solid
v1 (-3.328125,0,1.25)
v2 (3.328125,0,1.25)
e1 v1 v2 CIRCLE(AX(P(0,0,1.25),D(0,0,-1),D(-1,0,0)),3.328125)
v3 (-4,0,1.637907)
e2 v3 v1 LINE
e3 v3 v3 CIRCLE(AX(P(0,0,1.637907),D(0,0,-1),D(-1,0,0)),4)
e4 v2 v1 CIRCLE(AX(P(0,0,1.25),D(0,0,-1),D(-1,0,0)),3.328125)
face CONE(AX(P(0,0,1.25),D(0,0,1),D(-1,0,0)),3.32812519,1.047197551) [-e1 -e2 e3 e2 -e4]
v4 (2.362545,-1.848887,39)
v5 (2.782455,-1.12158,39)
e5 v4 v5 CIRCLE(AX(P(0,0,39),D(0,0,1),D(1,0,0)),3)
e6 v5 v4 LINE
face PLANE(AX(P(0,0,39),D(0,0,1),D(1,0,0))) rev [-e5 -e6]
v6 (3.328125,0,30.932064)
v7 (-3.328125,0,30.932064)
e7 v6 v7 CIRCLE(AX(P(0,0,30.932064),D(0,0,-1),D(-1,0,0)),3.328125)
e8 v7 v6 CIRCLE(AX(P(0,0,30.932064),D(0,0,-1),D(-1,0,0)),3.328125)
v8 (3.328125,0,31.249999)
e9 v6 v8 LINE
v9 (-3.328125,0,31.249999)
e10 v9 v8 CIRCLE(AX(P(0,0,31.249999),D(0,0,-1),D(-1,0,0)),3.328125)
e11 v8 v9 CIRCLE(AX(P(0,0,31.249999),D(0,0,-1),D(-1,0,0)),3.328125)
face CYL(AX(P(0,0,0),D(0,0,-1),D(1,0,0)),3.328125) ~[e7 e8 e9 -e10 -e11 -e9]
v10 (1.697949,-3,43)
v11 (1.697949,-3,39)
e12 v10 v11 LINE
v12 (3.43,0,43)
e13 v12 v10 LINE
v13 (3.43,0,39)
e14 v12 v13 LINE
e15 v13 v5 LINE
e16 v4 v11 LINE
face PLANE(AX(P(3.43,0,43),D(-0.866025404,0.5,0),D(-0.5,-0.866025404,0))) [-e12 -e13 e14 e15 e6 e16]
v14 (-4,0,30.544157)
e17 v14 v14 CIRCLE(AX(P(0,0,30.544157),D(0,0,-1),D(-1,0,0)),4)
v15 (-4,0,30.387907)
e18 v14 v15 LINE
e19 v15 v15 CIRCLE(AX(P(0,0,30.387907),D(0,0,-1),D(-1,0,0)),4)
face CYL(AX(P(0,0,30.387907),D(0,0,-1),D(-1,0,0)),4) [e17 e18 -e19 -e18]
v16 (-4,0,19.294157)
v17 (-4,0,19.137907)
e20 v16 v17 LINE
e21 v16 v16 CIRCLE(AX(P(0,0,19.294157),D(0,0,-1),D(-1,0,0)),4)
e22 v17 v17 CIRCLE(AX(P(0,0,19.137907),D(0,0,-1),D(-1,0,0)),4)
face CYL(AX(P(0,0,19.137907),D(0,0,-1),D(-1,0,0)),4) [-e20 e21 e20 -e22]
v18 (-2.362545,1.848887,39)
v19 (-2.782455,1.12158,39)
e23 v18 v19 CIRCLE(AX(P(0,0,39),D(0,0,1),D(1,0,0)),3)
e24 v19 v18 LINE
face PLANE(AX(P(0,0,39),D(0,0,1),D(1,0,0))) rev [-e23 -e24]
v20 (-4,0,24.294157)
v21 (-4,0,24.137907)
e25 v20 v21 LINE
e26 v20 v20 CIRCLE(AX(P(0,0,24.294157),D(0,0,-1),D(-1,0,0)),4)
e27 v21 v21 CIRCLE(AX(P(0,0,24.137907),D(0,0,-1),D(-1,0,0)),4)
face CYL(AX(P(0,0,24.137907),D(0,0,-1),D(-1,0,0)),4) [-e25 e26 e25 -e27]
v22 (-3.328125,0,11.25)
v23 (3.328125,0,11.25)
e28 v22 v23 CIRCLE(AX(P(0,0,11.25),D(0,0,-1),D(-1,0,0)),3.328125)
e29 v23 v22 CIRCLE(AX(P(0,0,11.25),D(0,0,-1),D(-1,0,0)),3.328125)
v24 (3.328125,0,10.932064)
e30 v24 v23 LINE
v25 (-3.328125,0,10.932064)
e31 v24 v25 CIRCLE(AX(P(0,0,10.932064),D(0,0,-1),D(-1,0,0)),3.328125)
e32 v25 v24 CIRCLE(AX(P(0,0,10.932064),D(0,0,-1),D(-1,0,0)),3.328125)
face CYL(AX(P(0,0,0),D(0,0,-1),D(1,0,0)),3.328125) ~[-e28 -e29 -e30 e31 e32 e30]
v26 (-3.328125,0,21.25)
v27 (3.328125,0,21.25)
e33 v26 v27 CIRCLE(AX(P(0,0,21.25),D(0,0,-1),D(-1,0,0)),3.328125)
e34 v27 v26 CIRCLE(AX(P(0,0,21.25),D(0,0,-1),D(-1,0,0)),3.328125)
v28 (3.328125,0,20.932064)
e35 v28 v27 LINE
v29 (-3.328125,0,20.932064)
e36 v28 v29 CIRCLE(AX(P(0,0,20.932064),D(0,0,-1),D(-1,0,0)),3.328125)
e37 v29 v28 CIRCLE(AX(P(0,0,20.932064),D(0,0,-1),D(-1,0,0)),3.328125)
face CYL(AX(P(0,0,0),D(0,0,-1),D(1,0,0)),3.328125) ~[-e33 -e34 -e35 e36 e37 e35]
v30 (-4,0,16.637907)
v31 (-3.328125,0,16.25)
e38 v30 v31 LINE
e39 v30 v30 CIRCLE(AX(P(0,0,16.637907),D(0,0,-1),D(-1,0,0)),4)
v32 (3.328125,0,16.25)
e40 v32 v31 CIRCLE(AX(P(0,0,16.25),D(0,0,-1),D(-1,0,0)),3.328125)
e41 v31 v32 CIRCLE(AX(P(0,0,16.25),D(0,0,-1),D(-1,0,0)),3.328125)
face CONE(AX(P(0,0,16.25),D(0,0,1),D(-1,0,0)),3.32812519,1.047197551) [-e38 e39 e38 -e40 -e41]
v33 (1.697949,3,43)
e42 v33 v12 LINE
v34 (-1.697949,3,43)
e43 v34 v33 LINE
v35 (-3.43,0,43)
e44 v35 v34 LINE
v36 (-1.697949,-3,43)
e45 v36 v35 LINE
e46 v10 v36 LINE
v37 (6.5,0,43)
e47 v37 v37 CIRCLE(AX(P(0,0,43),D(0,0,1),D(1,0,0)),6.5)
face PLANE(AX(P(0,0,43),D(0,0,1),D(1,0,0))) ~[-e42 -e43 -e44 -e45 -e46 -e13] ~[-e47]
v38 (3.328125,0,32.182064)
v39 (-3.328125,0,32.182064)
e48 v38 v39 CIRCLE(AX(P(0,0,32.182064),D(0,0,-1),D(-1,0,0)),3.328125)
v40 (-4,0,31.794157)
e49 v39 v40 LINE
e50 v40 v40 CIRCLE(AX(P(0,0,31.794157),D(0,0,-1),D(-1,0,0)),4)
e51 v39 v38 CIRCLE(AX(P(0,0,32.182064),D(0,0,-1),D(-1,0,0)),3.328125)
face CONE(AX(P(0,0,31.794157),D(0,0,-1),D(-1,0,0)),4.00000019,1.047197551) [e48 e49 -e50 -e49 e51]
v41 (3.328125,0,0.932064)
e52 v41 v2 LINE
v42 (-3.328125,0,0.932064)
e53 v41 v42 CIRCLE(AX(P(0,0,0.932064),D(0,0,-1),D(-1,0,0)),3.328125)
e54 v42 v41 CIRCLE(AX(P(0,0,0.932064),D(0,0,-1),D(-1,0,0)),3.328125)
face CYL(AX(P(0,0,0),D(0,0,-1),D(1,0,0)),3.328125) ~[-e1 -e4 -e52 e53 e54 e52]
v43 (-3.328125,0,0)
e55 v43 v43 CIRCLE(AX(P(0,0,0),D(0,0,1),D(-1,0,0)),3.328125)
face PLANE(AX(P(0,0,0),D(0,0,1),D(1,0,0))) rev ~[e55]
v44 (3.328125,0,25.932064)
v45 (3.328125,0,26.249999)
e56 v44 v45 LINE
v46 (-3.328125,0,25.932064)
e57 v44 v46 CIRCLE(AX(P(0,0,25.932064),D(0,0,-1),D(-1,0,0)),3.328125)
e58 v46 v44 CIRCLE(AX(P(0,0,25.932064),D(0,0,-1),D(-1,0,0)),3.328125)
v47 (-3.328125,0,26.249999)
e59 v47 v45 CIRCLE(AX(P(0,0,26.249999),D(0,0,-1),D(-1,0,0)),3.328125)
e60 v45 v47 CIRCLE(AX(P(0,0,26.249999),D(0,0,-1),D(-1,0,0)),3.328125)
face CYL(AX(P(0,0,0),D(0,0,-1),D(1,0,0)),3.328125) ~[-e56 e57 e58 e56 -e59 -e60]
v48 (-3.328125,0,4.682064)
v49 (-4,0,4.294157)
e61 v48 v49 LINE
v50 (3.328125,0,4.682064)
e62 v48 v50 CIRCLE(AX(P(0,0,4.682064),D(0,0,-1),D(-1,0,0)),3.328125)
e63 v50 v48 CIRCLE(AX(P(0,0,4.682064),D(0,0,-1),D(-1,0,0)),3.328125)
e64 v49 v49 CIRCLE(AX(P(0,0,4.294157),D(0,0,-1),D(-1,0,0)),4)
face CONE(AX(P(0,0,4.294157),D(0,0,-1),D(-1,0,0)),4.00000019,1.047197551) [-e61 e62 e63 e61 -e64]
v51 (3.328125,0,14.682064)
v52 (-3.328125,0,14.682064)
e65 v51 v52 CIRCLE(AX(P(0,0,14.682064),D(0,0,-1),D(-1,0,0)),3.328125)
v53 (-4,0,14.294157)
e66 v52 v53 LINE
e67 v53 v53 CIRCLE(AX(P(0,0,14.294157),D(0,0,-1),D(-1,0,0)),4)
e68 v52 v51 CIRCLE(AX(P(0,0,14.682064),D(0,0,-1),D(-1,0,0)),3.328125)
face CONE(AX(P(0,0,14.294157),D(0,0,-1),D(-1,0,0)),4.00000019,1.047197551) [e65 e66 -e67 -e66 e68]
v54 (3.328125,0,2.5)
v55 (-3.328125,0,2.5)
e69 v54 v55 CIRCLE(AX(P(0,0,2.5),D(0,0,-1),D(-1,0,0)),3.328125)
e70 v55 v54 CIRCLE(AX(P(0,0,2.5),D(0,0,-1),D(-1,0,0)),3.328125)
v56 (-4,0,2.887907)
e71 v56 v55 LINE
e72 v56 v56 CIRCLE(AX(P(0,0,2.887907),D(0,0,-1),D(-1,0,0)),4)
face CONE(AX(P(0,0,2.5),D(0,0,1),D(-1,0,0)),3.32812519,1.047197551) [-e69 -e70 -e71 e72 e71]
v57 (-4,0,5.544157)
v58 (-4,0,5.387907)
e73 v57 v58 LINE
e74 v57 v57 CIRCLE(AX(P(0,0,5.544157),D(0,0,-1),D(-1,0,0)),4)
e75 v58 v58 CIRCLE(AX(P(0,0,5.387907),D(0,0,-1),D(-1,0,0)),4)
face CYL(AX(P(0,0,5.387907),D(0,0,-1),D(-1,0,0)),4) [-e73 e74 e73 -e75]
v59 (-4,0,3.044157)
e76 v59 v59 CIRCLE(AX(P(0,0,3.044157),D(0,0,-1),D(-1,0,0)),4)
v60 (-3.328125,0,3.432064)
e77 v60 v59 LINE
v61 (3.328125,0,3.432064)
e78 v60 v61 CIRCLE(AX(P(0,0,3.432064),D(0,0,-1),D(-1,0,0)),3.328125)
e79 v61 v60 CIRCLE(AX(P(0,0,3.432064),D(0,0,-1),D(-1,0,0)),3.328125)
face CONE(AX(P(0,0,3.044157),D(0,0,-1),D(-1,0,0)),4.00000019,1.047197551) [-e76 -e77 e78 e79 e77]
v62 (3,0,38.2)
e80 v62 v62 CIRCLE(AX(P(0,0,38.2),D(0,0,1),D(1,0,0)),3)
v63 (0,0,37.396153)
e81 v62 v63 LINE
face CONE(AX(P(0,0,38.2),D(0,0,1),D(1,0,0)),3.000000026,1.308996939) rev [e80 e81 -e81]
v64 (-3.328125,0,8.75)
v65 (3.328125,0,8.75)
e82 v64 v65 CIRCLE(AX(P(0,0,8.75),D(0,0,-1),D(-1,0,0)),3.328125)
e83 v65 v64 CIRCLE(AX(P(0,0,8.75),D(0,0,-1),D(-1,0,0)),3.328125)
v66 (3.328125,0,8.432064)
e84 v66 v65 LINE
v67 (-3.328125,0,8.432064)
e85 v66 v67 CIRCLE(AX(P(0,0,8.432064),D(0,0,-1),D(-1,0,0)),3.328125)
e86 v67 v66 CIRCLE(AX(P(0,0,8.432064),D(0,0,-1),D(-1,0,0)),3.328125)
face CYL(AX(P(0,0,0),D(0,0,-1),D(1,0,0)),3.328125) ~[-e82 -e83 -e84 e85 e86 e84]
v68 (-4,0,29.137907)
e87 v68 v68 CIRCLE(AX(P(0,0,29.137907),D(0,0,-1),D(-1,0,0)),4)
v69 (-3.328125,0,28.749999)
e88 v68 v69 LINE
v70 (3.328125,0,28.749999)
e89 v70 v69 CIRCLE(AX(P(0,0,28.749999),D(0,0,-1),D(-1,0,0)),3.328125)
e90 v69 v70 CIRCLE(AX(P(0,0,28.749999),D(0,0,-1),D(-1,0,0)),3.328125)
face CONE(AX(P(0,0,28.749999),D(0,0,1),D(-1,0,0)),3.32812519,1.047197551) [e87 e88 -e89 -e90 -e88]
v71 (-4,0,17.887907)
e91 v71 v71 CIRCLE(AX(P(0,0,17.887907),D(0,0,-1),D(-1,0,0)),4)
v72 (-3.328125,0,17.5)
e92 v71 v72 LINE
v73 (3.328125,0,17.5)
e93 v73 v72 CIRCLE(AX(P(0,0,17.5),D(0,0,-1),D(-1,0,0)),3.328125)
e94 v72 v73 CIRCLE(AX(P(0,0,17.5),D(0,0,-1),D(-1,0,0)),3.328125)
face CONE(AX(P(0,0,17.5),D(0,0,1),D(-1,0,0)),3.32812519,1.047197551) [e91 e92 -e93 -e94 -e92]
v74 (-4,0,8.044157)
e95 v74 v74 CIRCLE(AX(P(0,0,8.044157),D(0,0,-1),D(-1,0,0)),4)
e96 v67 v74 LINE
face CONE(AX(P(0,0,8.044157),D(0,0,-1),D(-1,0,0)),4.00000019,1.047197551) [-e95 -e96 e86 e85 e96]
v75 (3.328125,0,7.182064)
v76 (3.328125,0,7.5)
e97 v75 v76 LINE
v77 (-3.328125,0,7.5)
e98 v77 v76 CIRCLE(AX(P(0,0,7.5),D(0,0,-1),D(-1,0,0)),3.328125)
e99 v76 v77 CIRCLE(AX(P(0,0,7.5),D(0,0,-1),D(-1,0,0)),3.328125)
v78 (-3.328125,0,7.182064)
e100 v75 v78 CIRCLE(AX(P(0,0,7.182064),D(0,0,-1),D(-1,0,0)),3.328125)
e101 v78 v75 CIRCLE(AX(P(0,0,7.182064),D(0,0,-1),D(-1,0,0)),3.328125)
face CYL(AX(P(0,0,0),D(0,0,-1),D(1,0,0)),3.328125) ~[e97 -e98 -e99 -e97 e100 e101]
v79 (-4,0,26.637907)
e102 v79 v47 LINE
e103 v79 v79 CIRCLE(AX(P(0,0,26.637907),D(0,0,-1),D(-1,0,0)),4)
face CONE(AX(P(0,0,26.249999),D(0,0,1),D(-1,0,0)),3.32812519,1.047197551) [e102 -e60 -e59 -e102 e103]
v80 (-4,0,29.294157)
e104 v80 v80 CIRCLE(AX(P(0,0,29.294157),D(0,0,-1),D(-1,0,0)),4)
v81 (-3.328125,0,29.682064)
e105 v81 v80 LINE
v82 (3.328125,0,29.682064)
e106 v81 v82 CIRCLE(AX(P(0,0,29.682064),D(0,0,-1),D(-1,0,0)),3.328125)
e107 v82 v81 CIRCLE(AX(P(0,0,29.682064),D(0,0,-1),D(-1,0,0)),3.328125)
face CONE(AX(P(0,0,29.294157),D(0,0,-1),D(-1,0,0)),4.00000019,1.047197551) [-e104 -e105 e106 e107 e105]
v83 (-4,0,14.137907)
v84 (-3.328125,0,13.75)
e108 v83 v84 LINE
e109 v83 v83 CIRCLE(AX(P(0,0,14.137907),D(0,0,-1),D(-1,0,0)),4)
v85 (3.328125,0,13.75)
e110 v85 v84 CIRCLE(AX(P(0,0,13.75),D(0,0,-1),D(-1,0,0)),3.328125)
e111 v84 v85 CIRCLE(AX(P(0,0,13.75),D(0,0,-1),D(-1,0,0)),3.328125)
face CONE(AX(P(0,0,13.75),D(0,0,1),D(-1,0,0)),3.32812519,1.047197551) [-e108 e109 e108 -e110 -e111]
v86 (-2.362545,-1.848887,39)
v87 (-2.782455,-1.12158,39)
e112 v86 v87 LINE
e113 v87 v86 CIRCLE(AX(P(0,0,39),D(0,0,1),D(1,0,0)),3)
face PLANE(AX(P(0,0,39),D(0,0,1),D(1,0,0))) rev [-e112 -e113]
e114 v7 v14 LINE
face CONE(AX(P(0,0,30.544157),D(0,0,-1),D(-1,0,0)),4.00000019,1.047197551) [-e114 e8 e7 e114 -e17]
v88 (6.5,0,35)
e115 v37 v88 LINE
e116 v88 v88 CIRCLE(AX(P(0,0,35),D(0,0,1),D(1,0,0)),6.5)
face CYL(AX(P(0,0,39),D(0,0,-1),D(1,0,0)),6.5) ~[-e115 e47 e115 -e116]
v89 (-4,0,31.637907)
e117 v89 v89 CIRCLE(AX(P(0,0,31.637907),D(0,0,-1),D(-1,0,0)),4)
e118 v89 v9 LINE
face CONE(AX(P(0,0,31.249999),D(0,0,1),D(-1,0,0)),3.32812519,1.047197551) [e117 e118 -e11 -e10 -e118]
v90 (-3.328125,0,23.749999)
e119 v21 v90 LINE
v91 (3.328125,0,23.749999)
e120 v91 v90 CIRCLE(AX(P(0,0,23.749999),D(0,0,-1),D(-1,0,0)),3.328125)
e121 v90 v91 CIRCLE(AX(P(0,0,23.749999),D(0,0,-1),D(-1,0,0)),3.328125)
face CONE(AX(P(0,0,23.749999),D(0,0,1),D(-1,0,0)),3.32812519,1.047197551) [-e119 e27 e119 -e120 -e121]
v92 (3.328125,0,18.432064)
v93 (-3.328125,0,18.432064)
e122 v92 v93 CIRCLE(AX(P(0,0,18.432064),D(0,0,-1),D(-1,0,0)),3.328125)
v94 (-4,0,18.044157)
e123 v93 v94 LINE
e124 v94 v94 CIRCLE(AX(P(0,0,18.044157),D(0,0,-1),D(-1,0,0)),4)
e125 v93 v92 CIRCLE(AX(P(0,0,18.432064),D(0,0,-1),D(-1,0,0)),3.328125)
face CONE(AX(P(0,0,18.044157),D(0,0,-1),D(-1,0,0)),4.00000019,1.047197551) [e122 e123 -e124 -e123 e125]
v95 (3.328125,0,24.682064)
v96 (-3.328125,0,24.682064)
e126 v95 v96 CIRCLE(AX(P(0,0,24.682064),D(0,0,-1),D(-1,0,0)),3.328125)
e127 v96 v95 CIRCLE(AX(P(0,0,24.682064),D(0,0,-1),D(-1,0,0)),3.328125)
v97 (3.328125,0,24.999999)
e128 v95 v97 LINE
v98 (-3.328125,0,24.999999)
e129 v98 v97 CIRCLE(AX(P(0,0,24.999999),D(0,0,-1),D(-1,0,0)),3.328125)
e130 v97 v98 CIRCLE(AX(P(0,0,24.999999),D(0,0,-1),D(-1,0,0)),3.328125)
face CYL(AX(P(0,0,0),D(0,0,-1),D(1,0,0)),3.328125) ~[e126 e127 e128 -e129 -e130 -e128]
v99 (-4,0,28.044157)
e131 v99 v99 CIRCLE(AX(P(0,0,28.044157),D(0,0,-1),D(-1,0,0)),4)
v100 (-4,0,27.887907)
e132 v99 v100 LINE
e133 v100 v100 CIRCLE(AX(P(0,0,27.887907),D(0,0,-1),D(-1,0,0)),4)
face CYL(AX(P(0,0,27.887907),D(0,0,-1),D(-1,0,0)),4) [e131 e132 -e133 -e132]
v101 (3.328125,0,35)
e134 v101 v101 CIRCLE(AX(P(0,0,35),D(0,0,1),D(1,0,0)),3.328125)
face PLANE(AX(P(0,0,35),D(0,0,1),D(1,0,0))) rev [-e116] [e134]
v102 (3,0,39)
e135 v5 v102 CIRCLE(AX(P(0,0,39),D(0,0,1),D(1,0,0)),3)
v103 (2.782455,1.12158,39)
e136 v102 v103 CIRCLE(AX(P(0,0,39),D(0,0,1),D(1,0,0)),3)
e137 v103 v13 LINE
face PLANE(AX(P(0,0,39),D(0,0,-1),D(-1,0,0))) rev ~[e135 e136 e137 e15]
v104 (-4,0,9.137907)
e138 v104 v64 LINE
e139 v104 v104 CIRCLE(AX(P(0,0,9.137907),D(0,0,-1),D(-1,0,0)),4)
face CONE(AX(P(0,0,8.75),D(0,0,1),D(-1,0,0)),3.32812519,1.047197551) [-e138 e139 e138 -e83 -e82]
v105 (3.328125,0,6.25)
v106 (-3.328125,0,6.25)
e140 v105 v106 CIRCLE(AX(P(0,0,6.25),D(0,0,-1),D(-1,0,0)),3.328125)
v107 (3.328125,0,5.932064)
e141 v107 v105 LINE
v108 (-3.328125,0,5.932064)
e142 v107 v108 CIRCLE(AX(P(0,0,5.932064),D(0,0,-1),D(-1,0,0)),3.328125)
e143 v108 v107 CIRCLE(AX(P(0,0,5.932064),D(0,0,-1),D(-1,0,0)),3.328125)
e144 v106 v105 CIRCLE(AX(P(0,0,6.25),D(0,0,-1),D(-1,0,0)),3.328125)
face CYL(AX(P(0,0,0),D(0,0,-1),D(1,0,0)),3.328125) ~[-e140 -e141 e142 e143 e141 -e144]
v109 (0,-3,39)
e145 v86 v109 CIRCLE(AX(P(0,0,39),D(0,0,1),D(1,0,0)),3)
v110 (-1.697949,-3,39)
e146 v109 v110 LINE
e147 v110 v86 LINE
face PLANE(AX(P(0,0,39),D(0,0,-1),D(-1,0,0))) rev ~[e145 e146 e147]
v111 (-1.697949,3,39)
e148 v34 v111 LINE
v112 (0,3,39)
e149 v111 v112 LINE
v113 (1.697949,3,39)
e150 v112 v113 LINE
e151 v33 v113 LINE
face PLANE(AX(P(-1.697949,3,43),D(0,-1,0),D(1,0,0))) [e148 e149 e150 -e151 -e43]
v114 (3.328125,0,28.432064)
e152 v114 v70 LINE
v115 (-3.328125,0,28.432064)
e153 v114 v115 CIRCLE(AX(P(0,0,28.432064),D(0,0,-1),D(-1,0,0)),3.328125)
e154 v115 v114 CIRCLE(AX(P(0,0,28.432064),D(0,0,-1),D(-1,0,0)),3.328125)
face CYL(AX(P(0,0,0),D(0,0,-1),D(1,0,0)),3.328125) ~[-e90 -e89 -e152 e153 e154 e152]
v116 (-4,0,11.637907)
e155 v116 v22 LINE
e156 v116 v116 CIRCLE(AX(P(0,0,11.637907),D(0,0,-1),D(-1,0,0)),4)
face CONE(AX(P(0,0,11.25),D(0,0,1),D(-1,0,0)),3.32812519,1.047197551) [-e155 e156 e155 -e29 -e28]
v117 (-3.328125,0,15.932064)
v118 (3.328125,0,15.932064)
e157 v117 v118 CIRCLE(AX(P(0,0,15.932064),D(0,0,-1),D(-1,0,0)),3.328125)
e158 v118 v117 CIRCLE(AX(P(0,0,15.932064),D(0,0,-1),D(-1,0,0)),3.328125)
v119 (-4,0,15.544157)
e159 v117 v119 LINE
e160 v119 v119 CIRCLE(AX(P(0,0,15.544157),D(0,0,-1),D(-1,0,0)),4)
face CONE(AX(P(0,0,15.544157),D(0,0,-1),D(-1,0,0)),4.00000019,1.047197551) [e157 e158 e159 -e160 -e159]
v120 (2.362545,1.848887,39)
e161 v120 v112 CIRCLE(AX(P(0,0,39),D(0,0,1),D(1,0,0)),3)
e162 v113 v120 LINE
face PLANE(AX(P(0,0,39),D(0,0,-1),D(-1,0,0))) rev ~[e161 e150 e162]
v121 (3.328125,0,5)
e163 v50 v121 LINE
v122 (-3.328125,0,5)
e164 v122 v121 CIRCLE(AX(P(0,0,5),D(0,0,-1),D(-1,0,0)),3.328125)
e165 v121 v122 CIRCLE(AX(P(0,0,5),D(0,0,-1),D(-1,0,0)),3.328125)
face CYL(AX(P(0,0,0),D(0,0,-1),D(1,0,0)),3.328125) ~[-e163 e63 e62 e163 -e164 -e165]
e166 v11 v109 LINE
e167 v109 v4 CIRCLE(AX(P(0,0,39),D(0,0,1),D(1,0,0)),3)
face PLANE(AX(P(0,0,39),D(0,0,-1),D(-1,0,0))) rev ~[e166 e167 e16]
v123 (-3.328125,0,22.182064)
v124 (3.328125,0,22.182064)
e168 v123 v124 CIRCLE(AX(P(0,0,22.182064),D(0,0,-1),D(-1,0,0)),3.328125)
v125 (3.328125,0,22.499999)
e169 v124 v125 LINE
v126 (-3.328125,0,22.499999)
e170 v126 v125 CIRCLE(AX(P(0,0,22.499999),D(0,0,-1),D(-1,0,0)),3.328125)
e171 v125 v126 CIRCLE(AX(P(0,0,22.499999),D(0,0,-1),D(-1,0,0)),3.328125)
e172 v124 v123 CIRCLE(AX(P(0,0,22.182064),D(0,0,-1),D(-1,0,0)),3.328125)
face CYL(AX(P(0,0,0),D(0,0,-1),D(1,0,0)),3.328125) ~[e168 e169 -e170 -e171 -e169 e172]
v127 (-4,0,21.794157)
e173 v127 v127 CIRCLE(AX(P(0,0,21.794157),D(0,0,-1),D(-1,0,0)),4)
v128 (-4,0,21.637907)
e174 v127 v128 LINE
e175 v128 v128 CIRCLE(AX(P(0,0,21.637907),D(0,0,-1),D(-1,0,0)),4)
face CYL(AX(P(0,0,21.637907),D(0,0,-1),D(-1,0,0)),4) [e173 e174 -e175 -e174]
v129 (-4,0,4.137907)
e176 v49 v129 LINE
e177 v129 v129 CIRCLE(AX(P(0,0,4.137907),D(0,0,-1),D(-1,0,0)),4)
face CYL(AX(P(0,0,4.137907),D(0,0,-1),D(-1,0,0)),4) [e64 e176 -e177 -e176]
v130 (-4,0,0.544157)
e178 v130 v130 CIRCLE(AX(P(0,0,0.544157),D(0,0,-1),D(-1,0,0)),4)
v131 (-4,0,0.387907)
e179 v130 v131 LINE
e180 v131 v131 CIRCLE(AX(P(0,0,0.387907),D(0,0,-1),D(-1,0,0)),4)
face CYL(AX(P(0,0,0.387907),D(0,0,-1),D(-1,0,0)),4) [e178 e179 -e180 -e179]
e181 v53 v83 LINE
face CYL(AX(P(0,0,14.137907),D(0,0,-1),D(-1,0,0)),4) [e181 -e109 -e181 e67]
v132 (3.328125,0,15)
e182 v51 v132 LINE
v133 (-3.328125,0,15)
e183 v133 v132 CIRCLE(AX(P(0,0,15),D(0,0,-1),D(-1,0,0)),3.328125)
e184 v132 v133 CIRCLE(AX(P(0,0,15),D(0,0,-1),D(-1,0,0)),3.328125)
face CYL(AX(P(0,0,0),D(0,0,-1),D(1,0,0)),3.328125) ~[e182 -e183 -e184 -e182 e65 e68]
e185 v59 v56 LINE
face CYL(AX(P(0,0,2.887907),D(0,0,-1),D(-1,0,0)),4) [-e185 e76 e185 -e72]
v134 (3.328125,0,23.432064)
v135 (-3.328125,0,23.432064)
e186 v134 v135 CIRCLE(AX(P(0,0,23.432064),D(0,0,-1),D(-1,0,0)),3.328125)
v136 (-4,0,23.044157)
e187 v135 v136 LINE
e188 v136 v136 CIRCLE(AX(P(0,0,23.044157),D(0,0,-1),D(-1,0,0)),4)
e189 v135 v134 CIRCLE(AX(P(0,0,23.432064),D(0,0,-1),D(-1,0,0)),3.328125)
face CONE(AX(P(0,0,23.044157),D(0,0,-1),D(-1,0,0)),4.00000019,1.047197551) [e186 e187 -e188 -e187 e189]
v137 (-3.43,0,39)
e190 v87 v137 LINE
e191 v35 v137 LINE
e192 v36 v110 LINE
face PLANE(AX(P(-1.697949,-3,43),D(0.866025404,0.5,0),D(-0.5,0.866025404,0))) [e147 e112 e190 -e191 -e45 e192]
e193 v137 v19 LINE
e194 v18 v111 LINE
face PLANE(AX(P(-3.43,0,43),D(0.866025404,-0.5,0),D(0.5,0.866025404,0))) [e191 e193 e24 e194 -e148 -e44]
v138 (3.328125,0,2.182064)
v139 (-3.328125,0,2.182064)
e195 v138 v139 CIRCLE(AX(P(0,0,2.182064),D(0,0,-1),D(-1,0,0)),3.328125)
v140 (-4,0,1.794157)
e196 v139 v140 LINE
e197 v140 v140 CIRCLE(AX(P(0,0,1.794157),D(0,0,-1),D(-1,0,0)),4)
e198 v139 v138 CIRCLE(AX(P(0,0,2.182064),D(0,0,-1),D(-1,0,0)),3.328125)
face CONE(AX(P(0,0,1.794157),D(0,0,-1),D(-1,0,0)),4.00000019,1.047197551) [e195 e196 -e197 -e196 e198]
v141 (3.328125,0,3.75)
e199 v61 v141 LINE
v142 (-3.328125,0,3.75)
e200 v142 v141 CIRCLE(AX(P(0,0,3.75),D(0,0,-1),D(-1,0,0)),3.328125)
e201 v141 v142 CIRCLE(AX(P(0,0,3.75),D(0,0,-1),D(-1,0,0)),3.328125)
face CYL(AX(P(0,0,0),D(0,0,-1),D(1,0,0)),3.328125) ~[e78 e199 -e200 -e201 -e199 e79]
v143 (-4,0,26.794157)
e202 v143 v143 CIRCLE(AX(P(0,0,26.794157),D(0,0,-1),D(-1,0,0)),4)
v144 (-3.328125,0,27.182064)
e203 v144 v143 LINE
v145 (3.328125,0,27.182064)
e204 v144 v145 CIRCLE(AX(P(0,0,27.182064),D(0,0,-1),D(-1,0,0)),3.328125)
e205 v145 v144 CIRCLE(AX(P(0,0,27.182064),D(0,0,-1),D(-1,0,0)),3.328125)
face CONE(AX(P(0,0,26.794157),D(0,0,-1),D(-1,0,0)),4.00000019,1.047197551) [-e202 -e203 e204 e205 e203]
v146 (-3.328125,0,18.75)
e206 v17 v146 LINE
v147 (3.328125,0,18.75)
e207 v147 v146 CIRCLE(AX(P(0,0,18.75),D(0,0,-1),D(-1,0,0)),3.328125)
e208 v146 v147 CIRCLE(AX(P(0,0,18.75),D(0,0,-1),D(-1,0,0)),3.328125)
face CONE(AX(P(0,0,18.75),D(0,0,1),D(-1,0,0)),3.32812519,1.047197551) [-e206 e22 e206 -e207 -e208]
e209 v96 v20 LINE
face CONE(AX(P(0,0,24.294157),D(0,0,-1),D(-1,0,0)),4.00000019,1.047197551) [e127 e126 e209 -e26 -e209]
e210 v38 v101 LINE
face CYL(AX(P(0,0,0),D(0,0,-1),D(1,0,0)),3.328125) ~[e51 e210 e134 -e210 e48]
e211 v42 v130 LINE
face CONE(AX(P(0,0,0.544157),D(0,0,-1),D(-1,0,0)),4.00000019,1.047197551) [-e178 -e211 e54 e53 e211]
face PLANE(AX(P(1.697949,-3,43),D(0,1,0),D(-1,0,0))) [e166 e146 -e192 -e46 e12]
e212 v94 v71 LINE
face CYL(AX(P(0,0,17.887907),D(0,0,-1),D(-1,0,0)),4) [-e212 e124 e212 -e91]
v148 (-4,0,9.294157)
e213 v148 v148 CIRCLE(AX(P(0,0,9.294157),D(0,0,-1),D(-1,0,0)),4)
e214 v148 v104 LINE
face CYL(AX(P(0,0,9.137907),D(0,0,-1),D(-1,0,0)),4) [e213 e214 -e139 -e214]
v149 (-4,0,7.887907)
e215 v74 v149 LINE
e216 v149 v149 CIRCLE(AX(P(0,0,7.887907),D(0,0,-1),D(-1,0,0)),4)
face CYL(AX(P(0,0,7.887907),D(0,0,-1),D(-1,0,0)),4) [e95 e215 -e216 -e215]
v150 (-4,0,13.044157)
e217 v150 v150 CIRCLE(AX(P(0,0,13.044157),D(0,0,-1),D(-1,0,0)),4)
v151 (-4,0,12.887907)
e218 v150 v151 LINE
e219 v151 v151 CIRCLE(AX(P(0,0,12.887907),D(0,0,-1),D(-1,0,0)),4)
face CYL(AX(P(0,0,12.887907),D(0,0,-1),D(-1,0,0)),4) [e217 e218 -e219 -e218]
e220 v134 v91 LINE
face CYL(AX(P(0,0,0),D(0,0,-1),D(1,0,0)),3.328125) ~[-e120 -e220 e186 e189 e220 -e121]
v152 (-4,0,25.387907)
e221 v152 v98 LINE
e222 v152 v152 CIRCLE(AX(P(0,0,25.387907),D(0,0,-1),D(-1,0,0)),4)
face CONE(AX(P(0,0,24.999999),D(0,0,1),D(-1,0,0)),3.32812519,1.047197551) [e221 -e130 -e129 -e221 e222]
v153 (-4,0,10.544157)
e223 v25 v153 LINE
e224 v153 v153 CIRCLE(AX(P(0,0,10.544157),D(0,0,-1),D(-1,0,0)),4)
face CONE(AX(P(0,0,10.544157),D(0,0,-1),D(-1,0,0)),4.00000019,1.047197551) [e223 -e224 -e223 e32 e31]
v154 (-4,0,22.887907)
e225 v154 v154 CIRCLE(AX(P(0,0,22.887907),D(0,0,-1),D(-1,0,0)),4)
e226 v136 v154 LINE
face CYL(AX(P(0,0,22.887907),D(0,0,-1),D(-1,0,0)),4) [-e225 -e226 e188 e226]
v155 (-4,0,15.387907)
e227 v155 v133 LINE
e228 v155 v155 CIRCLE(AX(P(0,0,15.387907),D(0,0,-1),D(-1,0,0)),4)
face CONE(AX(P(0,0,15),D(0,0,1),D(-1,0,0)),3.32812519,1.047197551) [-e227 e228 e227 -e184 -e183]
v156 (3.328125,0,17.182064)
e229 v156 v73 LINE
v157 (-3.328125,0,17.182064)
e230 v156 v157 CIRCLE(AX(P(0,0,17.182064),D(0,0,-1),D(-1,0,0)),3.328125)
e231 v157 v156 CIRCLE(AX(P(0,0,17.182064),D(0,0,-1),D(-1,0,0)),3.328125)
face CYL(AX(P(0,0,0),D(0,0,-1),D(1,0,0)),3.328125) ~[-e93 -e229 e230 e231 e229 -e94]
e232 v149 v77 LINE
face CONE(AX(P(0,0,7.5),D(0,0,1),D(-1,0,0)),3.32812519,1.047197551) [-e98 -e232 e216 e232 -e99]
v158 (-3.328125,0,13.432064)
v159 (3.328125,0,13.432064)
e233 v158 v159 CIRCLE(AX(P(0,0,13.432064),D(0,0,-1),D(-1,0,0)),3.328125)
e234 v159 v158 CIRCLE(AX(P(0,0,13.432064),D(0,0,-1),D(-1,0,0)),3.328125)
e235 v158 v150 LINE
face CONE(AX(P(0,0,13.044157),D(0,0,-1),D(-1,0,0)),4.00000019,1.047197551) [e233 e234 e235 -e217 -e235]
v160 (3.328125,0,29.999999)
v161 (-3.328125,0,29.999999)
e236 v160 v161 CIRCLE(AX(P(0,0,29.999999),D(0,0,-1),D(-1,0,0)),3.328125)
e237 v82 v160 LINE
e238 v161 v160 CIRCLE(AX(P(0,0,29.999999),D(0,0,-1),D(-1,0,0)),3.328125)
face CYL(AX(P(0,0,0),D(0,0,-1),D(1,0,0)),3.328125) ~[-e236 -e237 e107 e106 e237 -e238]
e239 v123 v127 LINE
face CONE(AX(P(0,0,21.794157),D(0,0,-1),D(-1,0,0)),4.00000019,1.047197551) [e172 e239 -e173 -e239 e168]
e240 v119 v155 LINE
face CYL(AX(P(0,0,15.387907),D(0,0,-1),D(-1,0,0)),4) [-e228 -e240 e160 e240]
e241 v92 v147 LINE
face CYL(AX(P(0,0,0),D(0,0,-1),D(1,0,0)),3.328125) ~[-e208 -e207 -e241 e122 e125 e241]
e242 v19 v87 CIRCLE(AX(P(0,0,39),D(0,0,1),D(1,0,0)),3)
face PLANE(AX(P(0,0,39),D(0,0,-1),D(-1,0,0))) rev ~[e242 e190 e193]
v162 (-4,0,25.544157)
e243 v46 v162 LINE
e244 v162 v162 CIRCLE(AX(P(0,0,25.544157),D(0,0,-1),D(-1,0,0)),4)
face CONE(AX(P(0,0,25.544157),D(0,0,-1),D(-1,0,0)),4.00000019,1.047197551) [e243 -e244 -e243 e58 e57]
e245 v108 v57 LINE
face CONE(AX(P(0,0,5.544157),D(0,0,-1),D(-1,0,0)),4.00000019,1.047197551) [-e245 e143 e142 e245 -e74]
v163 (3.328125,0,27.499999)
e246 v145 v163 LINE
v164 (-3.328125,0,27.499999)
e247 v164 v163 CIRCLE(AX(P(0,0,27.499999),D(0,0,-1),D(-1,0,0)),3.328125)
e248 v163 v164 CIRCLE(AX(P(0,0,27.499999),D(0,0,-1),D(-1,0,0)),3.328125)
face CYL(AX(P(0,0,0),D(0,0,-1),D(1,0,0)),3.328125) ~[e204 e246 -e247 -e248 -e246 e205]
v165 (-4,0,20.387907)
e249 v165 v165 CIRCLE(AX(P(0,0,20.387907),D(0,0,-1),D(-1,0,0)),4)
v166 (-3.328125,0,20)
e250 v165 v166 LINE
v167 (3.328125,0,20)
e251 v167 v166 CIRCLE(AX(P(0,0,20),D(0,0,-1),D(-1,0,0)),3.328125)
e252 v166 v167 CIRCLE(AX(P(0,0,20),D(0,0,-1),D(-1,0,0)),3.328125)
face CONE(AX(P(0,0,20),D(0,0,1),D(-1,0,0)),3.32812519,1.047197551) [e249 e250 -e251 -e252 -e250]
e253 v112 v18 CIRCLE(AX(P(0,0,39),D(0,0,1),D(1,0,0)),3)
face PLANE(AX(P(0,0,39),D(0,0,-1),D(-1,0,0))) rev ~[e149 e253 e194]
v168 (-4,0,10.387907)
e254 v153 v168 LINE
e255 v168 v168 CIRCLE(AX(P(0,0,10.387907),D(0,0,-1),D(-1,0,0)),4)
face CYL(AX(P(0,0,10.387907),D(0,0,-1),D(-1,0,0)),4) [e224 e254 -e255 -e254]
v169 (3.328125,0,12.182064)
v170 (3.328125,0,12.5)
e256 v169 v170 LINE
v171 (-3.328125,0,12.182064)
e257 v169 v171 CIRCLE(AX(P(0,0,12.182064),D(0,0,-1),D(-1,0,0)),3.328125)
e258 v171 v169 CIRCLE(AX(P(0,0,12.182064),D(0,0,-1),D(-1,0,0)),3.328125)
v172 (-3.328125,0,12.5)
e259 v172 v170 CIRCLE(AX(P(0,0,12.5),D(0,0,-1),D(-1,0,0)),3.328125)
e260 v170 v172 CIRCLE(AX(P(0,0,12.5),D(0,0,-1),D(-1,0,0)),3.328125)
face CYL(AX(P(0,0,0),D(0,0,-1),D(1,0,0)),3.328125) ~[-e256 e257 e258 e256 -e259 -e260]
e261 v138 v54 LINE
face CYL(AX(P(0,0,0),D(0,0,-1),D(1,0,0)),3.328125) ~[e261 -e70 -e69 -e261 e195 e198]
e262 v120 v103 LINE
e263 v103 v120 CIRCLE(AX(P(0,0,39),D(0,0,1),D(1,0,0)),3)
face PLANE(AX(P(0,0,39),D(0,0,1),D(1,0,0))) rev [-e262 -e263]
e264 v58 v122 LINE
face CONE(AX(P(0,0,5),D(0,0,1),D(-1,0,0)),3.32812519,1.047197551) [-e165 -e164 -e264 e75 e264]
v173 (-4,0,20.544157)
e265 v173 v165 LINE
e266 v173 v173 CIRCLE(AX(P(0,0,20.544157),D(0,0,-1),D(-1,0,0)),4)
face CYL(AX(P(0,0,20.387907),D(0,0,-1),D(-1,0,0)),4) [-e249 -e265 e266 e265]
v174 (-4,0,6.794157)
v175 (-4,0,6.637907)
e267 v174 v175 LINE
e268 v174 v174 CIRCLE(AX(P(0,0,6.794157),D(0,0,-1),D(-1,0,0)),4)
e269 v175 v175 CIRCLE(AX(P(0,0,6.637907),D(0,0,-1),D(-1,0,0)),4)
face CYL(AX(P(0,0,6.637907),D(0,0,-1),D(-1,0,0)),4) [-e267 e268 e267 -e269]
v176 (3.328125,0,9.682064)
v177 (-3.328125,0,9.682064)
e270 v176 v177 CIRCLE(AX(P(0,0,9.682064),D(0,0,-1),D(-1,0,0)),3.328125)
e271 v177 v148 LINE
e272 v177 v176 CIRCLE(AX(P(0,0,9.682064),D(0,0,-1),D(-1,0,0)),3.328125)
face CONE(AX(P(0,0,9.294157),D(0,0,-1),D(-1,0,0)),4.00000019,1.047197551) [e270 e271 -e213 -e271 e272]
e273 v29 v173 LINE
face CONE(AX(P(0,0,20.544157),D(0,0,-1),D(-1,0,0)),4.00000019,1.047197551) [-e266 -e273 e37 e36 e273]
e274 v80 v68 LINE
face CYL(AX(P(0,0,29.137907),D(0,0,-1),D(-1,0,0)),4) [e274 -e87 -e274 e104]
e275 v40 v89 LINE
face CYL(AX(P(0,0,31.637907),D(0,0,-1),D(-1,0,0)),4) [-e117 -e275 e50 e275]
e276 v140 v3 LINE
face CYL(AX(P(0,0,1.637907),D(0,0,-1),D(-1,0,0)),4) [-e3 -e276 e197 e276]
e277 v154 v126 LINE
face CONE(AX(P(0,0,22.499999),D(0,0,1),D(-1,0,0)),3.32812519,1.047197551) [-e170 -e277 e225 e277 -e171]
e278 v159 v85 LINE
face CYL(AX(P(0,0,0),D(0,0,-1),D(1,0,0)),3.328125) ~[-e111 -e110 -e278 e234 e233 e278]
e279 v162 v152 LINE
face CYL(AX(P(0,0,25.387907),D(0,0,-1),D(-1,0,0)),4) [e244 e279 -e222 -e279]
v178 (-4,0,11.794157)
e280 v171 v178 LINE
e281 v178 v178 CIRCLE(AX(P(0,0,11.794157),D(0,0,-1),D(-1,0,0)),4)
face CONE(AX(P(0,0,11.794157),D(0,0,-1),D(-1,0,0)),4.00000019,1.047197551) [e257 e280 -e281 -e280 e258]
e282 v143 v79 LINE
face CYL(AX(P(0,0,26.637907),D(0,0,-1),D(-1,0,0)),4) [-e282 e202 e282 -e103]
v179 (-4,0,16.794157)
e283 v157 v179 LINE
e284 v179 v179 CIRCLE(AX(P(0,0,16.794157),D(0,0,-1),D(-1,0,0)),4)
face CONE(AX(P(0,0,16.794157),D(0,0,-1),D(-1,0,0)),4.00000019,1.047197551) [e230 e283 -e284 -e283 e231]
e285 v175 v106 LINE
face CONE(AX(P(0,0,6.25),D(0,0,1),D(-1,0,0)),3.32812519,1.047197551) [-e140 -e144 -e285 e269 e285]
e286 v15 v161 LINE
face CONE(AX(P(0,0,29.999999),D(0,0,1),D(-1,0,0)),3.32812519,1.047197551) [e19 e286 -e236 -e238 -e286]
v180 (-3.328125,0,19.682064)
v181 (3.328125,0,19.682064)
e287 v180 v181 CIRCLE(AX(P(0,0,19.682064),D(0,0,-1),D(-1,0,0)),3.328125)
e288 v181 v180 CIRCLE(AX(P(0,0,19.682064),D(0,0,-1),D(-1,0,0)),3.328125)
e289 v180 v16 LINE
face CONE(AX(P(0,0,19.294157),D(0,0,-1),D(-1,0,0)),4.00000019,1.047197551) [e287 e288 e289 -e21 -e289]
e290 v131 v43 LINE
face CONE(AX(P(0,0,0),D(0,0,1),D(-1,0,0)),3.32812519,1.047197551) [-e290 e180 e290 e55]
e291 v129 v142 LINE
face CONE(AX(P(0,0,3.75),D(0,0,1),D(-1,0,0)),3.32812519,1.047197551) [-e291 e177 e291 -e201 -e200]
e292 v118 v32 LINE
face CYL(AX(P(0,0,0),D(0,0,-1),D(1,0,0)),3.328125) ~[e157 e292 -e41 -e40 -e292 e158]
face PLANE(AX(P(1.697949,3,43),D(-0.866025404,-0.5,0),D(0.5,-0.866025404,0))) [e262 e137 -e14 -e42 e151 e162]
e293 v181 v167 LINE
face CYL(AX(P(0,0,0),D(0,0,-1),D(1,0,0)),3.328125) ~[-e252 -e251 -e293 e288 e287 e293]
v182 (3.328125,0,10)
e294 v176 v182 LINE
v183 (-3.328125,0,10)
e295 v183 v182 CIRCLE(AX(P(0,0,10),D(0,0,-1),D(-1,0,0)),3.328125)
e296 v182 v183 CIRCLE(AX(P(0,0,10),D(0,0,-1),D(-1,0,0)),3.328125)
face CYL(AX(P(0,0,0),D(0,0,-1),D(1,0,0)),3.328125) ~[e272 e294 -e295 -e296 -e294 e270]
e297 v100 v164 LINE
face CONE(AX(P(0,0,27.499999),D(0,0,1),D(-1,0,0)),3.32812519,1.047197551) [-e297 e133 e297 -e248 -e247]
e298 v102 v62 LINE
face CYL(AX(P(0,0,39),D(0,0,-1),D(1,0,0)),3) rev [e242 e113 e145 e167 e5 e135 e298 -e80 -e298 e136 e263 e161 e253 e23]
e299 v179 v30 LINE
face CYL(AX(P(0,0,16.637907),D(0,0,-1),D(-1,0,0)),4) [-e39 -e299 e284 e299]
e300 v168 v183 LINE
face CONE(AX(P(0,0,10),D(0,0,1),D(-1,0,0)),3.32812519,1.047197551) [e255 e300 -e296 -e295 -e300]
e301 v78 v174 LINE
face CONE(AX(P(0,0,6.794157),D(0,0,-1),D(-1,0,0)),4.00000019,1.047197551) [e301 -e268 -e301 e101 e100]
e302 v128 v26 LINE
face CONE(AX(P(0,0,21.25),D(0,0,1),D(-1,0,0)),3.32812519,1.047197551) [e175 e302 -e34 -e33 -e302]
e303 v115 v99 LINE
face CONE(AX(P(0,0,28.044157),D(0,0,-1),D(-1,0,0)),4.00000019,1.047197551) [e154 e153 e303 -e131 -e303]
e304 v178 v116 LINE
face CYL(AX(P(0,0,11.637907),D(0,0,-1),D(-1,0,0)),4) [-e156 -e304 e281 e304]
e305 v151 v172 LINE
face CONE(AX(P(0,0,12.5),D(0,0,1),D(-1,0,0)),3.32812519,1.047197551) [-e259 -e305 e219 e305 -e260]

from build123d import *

# Parameters (mm, degrees)
SKETCH1_R          = 3.32812519
BASE_EXTRUDE_DEPTH = 35
LPATTERN1_COUNT    = 26
LPATTERN1_PITCH    = 1.249999972
SKETCH7_W          = 6.500000134
SKETCH7_H          = 8.00000038
CUT_EXTRUDE2_DEPTH = 4.00000019


with BuildPart() as part:
    # Sketch1 → Base-Extrude (new body)
    with BuildSketch(Plane.XY):
        Circle(SKETCH1_R)
    extrude(amount=BASE_EXTRUDE_DEPTH)

    # Boss-Sweep1: sweep along a path in Sketch4
    with BuildLine(Plane(origin=(0, 0, 0.5), x_dir=(-1, 0, 0), z_dir=(0, 0, -1))) as boss_sweep1_path:
        CenterArc((0, 0), 3.32812519, 0, 360)
    # Sketch2 → Boss-Sweep1 (sweep)
    with BuildSketch(Plane(origin=(0, 0, 0), x_dir=(1, 0, 0), z_dir=(0, 1, 0))):
        Polygon((3.32812519, 0), (4.00000019, -0.387907212), (4.00000019, -0.544157209), (3.32812519, -0.932064421), align=None)
    boss_sweep1 = sweep(path=boss_sweep1_path.line)

    # LPattern1: Boss-Sweep1 ×26
    with Locations(*[(0, 0, i * LPATTERN1_PITCH) for i in range(1, LPATTERN1_COUNT)]):
        add(boss_sweep1)

    # Sketch7 → Boss-Revolve2 (revolve)
    with BuildSketch(Plane(origin=(0, 0, 0), x_dir=(1, 0, 0), z_dir=(0, 1, 0))):
        with Locations((3.250000067, -39.00000019)):
            Rectangle(SKETCH7_W, SKETCH7_H)
    revolve(axis=Axis((0, 0, 0), (0, 0, 1)))

    # Sketch8 → Cut-Extrude2 (cut)
    with BuildSketch(Plane.XY.offset(43.00000038)):
        Polygon((-1.697949218, 3.000000026), (1.697949218, 3.000000026), (3.430000041, 0), (1.697949218, -3.000000026), (-1.697949218, -3.000000026), (-3.430000041, 0), align=None)
    extrude(amount=-CUT_EXTRUDE2_DEPTH, mode=Mode.SUBTRACT)

    # Sketch9 → Cut-Revolve1 (revolve, cut)
    with BuildSketch(Plane(origin=(0, 0, 0), x_dir=(1, 0, 0), z_dir=(0, 1, 0))):
        Polygon((0, -39.00000019), (3.000000026, -39.00000019), (3.000000026, -38.20000021), (0, -37.396152626), align=None)
    revolve(axis=Axis((0, 0, 0), (0, 0, 1)), mode=Mode.SUBTRACT)


solid = part.part
